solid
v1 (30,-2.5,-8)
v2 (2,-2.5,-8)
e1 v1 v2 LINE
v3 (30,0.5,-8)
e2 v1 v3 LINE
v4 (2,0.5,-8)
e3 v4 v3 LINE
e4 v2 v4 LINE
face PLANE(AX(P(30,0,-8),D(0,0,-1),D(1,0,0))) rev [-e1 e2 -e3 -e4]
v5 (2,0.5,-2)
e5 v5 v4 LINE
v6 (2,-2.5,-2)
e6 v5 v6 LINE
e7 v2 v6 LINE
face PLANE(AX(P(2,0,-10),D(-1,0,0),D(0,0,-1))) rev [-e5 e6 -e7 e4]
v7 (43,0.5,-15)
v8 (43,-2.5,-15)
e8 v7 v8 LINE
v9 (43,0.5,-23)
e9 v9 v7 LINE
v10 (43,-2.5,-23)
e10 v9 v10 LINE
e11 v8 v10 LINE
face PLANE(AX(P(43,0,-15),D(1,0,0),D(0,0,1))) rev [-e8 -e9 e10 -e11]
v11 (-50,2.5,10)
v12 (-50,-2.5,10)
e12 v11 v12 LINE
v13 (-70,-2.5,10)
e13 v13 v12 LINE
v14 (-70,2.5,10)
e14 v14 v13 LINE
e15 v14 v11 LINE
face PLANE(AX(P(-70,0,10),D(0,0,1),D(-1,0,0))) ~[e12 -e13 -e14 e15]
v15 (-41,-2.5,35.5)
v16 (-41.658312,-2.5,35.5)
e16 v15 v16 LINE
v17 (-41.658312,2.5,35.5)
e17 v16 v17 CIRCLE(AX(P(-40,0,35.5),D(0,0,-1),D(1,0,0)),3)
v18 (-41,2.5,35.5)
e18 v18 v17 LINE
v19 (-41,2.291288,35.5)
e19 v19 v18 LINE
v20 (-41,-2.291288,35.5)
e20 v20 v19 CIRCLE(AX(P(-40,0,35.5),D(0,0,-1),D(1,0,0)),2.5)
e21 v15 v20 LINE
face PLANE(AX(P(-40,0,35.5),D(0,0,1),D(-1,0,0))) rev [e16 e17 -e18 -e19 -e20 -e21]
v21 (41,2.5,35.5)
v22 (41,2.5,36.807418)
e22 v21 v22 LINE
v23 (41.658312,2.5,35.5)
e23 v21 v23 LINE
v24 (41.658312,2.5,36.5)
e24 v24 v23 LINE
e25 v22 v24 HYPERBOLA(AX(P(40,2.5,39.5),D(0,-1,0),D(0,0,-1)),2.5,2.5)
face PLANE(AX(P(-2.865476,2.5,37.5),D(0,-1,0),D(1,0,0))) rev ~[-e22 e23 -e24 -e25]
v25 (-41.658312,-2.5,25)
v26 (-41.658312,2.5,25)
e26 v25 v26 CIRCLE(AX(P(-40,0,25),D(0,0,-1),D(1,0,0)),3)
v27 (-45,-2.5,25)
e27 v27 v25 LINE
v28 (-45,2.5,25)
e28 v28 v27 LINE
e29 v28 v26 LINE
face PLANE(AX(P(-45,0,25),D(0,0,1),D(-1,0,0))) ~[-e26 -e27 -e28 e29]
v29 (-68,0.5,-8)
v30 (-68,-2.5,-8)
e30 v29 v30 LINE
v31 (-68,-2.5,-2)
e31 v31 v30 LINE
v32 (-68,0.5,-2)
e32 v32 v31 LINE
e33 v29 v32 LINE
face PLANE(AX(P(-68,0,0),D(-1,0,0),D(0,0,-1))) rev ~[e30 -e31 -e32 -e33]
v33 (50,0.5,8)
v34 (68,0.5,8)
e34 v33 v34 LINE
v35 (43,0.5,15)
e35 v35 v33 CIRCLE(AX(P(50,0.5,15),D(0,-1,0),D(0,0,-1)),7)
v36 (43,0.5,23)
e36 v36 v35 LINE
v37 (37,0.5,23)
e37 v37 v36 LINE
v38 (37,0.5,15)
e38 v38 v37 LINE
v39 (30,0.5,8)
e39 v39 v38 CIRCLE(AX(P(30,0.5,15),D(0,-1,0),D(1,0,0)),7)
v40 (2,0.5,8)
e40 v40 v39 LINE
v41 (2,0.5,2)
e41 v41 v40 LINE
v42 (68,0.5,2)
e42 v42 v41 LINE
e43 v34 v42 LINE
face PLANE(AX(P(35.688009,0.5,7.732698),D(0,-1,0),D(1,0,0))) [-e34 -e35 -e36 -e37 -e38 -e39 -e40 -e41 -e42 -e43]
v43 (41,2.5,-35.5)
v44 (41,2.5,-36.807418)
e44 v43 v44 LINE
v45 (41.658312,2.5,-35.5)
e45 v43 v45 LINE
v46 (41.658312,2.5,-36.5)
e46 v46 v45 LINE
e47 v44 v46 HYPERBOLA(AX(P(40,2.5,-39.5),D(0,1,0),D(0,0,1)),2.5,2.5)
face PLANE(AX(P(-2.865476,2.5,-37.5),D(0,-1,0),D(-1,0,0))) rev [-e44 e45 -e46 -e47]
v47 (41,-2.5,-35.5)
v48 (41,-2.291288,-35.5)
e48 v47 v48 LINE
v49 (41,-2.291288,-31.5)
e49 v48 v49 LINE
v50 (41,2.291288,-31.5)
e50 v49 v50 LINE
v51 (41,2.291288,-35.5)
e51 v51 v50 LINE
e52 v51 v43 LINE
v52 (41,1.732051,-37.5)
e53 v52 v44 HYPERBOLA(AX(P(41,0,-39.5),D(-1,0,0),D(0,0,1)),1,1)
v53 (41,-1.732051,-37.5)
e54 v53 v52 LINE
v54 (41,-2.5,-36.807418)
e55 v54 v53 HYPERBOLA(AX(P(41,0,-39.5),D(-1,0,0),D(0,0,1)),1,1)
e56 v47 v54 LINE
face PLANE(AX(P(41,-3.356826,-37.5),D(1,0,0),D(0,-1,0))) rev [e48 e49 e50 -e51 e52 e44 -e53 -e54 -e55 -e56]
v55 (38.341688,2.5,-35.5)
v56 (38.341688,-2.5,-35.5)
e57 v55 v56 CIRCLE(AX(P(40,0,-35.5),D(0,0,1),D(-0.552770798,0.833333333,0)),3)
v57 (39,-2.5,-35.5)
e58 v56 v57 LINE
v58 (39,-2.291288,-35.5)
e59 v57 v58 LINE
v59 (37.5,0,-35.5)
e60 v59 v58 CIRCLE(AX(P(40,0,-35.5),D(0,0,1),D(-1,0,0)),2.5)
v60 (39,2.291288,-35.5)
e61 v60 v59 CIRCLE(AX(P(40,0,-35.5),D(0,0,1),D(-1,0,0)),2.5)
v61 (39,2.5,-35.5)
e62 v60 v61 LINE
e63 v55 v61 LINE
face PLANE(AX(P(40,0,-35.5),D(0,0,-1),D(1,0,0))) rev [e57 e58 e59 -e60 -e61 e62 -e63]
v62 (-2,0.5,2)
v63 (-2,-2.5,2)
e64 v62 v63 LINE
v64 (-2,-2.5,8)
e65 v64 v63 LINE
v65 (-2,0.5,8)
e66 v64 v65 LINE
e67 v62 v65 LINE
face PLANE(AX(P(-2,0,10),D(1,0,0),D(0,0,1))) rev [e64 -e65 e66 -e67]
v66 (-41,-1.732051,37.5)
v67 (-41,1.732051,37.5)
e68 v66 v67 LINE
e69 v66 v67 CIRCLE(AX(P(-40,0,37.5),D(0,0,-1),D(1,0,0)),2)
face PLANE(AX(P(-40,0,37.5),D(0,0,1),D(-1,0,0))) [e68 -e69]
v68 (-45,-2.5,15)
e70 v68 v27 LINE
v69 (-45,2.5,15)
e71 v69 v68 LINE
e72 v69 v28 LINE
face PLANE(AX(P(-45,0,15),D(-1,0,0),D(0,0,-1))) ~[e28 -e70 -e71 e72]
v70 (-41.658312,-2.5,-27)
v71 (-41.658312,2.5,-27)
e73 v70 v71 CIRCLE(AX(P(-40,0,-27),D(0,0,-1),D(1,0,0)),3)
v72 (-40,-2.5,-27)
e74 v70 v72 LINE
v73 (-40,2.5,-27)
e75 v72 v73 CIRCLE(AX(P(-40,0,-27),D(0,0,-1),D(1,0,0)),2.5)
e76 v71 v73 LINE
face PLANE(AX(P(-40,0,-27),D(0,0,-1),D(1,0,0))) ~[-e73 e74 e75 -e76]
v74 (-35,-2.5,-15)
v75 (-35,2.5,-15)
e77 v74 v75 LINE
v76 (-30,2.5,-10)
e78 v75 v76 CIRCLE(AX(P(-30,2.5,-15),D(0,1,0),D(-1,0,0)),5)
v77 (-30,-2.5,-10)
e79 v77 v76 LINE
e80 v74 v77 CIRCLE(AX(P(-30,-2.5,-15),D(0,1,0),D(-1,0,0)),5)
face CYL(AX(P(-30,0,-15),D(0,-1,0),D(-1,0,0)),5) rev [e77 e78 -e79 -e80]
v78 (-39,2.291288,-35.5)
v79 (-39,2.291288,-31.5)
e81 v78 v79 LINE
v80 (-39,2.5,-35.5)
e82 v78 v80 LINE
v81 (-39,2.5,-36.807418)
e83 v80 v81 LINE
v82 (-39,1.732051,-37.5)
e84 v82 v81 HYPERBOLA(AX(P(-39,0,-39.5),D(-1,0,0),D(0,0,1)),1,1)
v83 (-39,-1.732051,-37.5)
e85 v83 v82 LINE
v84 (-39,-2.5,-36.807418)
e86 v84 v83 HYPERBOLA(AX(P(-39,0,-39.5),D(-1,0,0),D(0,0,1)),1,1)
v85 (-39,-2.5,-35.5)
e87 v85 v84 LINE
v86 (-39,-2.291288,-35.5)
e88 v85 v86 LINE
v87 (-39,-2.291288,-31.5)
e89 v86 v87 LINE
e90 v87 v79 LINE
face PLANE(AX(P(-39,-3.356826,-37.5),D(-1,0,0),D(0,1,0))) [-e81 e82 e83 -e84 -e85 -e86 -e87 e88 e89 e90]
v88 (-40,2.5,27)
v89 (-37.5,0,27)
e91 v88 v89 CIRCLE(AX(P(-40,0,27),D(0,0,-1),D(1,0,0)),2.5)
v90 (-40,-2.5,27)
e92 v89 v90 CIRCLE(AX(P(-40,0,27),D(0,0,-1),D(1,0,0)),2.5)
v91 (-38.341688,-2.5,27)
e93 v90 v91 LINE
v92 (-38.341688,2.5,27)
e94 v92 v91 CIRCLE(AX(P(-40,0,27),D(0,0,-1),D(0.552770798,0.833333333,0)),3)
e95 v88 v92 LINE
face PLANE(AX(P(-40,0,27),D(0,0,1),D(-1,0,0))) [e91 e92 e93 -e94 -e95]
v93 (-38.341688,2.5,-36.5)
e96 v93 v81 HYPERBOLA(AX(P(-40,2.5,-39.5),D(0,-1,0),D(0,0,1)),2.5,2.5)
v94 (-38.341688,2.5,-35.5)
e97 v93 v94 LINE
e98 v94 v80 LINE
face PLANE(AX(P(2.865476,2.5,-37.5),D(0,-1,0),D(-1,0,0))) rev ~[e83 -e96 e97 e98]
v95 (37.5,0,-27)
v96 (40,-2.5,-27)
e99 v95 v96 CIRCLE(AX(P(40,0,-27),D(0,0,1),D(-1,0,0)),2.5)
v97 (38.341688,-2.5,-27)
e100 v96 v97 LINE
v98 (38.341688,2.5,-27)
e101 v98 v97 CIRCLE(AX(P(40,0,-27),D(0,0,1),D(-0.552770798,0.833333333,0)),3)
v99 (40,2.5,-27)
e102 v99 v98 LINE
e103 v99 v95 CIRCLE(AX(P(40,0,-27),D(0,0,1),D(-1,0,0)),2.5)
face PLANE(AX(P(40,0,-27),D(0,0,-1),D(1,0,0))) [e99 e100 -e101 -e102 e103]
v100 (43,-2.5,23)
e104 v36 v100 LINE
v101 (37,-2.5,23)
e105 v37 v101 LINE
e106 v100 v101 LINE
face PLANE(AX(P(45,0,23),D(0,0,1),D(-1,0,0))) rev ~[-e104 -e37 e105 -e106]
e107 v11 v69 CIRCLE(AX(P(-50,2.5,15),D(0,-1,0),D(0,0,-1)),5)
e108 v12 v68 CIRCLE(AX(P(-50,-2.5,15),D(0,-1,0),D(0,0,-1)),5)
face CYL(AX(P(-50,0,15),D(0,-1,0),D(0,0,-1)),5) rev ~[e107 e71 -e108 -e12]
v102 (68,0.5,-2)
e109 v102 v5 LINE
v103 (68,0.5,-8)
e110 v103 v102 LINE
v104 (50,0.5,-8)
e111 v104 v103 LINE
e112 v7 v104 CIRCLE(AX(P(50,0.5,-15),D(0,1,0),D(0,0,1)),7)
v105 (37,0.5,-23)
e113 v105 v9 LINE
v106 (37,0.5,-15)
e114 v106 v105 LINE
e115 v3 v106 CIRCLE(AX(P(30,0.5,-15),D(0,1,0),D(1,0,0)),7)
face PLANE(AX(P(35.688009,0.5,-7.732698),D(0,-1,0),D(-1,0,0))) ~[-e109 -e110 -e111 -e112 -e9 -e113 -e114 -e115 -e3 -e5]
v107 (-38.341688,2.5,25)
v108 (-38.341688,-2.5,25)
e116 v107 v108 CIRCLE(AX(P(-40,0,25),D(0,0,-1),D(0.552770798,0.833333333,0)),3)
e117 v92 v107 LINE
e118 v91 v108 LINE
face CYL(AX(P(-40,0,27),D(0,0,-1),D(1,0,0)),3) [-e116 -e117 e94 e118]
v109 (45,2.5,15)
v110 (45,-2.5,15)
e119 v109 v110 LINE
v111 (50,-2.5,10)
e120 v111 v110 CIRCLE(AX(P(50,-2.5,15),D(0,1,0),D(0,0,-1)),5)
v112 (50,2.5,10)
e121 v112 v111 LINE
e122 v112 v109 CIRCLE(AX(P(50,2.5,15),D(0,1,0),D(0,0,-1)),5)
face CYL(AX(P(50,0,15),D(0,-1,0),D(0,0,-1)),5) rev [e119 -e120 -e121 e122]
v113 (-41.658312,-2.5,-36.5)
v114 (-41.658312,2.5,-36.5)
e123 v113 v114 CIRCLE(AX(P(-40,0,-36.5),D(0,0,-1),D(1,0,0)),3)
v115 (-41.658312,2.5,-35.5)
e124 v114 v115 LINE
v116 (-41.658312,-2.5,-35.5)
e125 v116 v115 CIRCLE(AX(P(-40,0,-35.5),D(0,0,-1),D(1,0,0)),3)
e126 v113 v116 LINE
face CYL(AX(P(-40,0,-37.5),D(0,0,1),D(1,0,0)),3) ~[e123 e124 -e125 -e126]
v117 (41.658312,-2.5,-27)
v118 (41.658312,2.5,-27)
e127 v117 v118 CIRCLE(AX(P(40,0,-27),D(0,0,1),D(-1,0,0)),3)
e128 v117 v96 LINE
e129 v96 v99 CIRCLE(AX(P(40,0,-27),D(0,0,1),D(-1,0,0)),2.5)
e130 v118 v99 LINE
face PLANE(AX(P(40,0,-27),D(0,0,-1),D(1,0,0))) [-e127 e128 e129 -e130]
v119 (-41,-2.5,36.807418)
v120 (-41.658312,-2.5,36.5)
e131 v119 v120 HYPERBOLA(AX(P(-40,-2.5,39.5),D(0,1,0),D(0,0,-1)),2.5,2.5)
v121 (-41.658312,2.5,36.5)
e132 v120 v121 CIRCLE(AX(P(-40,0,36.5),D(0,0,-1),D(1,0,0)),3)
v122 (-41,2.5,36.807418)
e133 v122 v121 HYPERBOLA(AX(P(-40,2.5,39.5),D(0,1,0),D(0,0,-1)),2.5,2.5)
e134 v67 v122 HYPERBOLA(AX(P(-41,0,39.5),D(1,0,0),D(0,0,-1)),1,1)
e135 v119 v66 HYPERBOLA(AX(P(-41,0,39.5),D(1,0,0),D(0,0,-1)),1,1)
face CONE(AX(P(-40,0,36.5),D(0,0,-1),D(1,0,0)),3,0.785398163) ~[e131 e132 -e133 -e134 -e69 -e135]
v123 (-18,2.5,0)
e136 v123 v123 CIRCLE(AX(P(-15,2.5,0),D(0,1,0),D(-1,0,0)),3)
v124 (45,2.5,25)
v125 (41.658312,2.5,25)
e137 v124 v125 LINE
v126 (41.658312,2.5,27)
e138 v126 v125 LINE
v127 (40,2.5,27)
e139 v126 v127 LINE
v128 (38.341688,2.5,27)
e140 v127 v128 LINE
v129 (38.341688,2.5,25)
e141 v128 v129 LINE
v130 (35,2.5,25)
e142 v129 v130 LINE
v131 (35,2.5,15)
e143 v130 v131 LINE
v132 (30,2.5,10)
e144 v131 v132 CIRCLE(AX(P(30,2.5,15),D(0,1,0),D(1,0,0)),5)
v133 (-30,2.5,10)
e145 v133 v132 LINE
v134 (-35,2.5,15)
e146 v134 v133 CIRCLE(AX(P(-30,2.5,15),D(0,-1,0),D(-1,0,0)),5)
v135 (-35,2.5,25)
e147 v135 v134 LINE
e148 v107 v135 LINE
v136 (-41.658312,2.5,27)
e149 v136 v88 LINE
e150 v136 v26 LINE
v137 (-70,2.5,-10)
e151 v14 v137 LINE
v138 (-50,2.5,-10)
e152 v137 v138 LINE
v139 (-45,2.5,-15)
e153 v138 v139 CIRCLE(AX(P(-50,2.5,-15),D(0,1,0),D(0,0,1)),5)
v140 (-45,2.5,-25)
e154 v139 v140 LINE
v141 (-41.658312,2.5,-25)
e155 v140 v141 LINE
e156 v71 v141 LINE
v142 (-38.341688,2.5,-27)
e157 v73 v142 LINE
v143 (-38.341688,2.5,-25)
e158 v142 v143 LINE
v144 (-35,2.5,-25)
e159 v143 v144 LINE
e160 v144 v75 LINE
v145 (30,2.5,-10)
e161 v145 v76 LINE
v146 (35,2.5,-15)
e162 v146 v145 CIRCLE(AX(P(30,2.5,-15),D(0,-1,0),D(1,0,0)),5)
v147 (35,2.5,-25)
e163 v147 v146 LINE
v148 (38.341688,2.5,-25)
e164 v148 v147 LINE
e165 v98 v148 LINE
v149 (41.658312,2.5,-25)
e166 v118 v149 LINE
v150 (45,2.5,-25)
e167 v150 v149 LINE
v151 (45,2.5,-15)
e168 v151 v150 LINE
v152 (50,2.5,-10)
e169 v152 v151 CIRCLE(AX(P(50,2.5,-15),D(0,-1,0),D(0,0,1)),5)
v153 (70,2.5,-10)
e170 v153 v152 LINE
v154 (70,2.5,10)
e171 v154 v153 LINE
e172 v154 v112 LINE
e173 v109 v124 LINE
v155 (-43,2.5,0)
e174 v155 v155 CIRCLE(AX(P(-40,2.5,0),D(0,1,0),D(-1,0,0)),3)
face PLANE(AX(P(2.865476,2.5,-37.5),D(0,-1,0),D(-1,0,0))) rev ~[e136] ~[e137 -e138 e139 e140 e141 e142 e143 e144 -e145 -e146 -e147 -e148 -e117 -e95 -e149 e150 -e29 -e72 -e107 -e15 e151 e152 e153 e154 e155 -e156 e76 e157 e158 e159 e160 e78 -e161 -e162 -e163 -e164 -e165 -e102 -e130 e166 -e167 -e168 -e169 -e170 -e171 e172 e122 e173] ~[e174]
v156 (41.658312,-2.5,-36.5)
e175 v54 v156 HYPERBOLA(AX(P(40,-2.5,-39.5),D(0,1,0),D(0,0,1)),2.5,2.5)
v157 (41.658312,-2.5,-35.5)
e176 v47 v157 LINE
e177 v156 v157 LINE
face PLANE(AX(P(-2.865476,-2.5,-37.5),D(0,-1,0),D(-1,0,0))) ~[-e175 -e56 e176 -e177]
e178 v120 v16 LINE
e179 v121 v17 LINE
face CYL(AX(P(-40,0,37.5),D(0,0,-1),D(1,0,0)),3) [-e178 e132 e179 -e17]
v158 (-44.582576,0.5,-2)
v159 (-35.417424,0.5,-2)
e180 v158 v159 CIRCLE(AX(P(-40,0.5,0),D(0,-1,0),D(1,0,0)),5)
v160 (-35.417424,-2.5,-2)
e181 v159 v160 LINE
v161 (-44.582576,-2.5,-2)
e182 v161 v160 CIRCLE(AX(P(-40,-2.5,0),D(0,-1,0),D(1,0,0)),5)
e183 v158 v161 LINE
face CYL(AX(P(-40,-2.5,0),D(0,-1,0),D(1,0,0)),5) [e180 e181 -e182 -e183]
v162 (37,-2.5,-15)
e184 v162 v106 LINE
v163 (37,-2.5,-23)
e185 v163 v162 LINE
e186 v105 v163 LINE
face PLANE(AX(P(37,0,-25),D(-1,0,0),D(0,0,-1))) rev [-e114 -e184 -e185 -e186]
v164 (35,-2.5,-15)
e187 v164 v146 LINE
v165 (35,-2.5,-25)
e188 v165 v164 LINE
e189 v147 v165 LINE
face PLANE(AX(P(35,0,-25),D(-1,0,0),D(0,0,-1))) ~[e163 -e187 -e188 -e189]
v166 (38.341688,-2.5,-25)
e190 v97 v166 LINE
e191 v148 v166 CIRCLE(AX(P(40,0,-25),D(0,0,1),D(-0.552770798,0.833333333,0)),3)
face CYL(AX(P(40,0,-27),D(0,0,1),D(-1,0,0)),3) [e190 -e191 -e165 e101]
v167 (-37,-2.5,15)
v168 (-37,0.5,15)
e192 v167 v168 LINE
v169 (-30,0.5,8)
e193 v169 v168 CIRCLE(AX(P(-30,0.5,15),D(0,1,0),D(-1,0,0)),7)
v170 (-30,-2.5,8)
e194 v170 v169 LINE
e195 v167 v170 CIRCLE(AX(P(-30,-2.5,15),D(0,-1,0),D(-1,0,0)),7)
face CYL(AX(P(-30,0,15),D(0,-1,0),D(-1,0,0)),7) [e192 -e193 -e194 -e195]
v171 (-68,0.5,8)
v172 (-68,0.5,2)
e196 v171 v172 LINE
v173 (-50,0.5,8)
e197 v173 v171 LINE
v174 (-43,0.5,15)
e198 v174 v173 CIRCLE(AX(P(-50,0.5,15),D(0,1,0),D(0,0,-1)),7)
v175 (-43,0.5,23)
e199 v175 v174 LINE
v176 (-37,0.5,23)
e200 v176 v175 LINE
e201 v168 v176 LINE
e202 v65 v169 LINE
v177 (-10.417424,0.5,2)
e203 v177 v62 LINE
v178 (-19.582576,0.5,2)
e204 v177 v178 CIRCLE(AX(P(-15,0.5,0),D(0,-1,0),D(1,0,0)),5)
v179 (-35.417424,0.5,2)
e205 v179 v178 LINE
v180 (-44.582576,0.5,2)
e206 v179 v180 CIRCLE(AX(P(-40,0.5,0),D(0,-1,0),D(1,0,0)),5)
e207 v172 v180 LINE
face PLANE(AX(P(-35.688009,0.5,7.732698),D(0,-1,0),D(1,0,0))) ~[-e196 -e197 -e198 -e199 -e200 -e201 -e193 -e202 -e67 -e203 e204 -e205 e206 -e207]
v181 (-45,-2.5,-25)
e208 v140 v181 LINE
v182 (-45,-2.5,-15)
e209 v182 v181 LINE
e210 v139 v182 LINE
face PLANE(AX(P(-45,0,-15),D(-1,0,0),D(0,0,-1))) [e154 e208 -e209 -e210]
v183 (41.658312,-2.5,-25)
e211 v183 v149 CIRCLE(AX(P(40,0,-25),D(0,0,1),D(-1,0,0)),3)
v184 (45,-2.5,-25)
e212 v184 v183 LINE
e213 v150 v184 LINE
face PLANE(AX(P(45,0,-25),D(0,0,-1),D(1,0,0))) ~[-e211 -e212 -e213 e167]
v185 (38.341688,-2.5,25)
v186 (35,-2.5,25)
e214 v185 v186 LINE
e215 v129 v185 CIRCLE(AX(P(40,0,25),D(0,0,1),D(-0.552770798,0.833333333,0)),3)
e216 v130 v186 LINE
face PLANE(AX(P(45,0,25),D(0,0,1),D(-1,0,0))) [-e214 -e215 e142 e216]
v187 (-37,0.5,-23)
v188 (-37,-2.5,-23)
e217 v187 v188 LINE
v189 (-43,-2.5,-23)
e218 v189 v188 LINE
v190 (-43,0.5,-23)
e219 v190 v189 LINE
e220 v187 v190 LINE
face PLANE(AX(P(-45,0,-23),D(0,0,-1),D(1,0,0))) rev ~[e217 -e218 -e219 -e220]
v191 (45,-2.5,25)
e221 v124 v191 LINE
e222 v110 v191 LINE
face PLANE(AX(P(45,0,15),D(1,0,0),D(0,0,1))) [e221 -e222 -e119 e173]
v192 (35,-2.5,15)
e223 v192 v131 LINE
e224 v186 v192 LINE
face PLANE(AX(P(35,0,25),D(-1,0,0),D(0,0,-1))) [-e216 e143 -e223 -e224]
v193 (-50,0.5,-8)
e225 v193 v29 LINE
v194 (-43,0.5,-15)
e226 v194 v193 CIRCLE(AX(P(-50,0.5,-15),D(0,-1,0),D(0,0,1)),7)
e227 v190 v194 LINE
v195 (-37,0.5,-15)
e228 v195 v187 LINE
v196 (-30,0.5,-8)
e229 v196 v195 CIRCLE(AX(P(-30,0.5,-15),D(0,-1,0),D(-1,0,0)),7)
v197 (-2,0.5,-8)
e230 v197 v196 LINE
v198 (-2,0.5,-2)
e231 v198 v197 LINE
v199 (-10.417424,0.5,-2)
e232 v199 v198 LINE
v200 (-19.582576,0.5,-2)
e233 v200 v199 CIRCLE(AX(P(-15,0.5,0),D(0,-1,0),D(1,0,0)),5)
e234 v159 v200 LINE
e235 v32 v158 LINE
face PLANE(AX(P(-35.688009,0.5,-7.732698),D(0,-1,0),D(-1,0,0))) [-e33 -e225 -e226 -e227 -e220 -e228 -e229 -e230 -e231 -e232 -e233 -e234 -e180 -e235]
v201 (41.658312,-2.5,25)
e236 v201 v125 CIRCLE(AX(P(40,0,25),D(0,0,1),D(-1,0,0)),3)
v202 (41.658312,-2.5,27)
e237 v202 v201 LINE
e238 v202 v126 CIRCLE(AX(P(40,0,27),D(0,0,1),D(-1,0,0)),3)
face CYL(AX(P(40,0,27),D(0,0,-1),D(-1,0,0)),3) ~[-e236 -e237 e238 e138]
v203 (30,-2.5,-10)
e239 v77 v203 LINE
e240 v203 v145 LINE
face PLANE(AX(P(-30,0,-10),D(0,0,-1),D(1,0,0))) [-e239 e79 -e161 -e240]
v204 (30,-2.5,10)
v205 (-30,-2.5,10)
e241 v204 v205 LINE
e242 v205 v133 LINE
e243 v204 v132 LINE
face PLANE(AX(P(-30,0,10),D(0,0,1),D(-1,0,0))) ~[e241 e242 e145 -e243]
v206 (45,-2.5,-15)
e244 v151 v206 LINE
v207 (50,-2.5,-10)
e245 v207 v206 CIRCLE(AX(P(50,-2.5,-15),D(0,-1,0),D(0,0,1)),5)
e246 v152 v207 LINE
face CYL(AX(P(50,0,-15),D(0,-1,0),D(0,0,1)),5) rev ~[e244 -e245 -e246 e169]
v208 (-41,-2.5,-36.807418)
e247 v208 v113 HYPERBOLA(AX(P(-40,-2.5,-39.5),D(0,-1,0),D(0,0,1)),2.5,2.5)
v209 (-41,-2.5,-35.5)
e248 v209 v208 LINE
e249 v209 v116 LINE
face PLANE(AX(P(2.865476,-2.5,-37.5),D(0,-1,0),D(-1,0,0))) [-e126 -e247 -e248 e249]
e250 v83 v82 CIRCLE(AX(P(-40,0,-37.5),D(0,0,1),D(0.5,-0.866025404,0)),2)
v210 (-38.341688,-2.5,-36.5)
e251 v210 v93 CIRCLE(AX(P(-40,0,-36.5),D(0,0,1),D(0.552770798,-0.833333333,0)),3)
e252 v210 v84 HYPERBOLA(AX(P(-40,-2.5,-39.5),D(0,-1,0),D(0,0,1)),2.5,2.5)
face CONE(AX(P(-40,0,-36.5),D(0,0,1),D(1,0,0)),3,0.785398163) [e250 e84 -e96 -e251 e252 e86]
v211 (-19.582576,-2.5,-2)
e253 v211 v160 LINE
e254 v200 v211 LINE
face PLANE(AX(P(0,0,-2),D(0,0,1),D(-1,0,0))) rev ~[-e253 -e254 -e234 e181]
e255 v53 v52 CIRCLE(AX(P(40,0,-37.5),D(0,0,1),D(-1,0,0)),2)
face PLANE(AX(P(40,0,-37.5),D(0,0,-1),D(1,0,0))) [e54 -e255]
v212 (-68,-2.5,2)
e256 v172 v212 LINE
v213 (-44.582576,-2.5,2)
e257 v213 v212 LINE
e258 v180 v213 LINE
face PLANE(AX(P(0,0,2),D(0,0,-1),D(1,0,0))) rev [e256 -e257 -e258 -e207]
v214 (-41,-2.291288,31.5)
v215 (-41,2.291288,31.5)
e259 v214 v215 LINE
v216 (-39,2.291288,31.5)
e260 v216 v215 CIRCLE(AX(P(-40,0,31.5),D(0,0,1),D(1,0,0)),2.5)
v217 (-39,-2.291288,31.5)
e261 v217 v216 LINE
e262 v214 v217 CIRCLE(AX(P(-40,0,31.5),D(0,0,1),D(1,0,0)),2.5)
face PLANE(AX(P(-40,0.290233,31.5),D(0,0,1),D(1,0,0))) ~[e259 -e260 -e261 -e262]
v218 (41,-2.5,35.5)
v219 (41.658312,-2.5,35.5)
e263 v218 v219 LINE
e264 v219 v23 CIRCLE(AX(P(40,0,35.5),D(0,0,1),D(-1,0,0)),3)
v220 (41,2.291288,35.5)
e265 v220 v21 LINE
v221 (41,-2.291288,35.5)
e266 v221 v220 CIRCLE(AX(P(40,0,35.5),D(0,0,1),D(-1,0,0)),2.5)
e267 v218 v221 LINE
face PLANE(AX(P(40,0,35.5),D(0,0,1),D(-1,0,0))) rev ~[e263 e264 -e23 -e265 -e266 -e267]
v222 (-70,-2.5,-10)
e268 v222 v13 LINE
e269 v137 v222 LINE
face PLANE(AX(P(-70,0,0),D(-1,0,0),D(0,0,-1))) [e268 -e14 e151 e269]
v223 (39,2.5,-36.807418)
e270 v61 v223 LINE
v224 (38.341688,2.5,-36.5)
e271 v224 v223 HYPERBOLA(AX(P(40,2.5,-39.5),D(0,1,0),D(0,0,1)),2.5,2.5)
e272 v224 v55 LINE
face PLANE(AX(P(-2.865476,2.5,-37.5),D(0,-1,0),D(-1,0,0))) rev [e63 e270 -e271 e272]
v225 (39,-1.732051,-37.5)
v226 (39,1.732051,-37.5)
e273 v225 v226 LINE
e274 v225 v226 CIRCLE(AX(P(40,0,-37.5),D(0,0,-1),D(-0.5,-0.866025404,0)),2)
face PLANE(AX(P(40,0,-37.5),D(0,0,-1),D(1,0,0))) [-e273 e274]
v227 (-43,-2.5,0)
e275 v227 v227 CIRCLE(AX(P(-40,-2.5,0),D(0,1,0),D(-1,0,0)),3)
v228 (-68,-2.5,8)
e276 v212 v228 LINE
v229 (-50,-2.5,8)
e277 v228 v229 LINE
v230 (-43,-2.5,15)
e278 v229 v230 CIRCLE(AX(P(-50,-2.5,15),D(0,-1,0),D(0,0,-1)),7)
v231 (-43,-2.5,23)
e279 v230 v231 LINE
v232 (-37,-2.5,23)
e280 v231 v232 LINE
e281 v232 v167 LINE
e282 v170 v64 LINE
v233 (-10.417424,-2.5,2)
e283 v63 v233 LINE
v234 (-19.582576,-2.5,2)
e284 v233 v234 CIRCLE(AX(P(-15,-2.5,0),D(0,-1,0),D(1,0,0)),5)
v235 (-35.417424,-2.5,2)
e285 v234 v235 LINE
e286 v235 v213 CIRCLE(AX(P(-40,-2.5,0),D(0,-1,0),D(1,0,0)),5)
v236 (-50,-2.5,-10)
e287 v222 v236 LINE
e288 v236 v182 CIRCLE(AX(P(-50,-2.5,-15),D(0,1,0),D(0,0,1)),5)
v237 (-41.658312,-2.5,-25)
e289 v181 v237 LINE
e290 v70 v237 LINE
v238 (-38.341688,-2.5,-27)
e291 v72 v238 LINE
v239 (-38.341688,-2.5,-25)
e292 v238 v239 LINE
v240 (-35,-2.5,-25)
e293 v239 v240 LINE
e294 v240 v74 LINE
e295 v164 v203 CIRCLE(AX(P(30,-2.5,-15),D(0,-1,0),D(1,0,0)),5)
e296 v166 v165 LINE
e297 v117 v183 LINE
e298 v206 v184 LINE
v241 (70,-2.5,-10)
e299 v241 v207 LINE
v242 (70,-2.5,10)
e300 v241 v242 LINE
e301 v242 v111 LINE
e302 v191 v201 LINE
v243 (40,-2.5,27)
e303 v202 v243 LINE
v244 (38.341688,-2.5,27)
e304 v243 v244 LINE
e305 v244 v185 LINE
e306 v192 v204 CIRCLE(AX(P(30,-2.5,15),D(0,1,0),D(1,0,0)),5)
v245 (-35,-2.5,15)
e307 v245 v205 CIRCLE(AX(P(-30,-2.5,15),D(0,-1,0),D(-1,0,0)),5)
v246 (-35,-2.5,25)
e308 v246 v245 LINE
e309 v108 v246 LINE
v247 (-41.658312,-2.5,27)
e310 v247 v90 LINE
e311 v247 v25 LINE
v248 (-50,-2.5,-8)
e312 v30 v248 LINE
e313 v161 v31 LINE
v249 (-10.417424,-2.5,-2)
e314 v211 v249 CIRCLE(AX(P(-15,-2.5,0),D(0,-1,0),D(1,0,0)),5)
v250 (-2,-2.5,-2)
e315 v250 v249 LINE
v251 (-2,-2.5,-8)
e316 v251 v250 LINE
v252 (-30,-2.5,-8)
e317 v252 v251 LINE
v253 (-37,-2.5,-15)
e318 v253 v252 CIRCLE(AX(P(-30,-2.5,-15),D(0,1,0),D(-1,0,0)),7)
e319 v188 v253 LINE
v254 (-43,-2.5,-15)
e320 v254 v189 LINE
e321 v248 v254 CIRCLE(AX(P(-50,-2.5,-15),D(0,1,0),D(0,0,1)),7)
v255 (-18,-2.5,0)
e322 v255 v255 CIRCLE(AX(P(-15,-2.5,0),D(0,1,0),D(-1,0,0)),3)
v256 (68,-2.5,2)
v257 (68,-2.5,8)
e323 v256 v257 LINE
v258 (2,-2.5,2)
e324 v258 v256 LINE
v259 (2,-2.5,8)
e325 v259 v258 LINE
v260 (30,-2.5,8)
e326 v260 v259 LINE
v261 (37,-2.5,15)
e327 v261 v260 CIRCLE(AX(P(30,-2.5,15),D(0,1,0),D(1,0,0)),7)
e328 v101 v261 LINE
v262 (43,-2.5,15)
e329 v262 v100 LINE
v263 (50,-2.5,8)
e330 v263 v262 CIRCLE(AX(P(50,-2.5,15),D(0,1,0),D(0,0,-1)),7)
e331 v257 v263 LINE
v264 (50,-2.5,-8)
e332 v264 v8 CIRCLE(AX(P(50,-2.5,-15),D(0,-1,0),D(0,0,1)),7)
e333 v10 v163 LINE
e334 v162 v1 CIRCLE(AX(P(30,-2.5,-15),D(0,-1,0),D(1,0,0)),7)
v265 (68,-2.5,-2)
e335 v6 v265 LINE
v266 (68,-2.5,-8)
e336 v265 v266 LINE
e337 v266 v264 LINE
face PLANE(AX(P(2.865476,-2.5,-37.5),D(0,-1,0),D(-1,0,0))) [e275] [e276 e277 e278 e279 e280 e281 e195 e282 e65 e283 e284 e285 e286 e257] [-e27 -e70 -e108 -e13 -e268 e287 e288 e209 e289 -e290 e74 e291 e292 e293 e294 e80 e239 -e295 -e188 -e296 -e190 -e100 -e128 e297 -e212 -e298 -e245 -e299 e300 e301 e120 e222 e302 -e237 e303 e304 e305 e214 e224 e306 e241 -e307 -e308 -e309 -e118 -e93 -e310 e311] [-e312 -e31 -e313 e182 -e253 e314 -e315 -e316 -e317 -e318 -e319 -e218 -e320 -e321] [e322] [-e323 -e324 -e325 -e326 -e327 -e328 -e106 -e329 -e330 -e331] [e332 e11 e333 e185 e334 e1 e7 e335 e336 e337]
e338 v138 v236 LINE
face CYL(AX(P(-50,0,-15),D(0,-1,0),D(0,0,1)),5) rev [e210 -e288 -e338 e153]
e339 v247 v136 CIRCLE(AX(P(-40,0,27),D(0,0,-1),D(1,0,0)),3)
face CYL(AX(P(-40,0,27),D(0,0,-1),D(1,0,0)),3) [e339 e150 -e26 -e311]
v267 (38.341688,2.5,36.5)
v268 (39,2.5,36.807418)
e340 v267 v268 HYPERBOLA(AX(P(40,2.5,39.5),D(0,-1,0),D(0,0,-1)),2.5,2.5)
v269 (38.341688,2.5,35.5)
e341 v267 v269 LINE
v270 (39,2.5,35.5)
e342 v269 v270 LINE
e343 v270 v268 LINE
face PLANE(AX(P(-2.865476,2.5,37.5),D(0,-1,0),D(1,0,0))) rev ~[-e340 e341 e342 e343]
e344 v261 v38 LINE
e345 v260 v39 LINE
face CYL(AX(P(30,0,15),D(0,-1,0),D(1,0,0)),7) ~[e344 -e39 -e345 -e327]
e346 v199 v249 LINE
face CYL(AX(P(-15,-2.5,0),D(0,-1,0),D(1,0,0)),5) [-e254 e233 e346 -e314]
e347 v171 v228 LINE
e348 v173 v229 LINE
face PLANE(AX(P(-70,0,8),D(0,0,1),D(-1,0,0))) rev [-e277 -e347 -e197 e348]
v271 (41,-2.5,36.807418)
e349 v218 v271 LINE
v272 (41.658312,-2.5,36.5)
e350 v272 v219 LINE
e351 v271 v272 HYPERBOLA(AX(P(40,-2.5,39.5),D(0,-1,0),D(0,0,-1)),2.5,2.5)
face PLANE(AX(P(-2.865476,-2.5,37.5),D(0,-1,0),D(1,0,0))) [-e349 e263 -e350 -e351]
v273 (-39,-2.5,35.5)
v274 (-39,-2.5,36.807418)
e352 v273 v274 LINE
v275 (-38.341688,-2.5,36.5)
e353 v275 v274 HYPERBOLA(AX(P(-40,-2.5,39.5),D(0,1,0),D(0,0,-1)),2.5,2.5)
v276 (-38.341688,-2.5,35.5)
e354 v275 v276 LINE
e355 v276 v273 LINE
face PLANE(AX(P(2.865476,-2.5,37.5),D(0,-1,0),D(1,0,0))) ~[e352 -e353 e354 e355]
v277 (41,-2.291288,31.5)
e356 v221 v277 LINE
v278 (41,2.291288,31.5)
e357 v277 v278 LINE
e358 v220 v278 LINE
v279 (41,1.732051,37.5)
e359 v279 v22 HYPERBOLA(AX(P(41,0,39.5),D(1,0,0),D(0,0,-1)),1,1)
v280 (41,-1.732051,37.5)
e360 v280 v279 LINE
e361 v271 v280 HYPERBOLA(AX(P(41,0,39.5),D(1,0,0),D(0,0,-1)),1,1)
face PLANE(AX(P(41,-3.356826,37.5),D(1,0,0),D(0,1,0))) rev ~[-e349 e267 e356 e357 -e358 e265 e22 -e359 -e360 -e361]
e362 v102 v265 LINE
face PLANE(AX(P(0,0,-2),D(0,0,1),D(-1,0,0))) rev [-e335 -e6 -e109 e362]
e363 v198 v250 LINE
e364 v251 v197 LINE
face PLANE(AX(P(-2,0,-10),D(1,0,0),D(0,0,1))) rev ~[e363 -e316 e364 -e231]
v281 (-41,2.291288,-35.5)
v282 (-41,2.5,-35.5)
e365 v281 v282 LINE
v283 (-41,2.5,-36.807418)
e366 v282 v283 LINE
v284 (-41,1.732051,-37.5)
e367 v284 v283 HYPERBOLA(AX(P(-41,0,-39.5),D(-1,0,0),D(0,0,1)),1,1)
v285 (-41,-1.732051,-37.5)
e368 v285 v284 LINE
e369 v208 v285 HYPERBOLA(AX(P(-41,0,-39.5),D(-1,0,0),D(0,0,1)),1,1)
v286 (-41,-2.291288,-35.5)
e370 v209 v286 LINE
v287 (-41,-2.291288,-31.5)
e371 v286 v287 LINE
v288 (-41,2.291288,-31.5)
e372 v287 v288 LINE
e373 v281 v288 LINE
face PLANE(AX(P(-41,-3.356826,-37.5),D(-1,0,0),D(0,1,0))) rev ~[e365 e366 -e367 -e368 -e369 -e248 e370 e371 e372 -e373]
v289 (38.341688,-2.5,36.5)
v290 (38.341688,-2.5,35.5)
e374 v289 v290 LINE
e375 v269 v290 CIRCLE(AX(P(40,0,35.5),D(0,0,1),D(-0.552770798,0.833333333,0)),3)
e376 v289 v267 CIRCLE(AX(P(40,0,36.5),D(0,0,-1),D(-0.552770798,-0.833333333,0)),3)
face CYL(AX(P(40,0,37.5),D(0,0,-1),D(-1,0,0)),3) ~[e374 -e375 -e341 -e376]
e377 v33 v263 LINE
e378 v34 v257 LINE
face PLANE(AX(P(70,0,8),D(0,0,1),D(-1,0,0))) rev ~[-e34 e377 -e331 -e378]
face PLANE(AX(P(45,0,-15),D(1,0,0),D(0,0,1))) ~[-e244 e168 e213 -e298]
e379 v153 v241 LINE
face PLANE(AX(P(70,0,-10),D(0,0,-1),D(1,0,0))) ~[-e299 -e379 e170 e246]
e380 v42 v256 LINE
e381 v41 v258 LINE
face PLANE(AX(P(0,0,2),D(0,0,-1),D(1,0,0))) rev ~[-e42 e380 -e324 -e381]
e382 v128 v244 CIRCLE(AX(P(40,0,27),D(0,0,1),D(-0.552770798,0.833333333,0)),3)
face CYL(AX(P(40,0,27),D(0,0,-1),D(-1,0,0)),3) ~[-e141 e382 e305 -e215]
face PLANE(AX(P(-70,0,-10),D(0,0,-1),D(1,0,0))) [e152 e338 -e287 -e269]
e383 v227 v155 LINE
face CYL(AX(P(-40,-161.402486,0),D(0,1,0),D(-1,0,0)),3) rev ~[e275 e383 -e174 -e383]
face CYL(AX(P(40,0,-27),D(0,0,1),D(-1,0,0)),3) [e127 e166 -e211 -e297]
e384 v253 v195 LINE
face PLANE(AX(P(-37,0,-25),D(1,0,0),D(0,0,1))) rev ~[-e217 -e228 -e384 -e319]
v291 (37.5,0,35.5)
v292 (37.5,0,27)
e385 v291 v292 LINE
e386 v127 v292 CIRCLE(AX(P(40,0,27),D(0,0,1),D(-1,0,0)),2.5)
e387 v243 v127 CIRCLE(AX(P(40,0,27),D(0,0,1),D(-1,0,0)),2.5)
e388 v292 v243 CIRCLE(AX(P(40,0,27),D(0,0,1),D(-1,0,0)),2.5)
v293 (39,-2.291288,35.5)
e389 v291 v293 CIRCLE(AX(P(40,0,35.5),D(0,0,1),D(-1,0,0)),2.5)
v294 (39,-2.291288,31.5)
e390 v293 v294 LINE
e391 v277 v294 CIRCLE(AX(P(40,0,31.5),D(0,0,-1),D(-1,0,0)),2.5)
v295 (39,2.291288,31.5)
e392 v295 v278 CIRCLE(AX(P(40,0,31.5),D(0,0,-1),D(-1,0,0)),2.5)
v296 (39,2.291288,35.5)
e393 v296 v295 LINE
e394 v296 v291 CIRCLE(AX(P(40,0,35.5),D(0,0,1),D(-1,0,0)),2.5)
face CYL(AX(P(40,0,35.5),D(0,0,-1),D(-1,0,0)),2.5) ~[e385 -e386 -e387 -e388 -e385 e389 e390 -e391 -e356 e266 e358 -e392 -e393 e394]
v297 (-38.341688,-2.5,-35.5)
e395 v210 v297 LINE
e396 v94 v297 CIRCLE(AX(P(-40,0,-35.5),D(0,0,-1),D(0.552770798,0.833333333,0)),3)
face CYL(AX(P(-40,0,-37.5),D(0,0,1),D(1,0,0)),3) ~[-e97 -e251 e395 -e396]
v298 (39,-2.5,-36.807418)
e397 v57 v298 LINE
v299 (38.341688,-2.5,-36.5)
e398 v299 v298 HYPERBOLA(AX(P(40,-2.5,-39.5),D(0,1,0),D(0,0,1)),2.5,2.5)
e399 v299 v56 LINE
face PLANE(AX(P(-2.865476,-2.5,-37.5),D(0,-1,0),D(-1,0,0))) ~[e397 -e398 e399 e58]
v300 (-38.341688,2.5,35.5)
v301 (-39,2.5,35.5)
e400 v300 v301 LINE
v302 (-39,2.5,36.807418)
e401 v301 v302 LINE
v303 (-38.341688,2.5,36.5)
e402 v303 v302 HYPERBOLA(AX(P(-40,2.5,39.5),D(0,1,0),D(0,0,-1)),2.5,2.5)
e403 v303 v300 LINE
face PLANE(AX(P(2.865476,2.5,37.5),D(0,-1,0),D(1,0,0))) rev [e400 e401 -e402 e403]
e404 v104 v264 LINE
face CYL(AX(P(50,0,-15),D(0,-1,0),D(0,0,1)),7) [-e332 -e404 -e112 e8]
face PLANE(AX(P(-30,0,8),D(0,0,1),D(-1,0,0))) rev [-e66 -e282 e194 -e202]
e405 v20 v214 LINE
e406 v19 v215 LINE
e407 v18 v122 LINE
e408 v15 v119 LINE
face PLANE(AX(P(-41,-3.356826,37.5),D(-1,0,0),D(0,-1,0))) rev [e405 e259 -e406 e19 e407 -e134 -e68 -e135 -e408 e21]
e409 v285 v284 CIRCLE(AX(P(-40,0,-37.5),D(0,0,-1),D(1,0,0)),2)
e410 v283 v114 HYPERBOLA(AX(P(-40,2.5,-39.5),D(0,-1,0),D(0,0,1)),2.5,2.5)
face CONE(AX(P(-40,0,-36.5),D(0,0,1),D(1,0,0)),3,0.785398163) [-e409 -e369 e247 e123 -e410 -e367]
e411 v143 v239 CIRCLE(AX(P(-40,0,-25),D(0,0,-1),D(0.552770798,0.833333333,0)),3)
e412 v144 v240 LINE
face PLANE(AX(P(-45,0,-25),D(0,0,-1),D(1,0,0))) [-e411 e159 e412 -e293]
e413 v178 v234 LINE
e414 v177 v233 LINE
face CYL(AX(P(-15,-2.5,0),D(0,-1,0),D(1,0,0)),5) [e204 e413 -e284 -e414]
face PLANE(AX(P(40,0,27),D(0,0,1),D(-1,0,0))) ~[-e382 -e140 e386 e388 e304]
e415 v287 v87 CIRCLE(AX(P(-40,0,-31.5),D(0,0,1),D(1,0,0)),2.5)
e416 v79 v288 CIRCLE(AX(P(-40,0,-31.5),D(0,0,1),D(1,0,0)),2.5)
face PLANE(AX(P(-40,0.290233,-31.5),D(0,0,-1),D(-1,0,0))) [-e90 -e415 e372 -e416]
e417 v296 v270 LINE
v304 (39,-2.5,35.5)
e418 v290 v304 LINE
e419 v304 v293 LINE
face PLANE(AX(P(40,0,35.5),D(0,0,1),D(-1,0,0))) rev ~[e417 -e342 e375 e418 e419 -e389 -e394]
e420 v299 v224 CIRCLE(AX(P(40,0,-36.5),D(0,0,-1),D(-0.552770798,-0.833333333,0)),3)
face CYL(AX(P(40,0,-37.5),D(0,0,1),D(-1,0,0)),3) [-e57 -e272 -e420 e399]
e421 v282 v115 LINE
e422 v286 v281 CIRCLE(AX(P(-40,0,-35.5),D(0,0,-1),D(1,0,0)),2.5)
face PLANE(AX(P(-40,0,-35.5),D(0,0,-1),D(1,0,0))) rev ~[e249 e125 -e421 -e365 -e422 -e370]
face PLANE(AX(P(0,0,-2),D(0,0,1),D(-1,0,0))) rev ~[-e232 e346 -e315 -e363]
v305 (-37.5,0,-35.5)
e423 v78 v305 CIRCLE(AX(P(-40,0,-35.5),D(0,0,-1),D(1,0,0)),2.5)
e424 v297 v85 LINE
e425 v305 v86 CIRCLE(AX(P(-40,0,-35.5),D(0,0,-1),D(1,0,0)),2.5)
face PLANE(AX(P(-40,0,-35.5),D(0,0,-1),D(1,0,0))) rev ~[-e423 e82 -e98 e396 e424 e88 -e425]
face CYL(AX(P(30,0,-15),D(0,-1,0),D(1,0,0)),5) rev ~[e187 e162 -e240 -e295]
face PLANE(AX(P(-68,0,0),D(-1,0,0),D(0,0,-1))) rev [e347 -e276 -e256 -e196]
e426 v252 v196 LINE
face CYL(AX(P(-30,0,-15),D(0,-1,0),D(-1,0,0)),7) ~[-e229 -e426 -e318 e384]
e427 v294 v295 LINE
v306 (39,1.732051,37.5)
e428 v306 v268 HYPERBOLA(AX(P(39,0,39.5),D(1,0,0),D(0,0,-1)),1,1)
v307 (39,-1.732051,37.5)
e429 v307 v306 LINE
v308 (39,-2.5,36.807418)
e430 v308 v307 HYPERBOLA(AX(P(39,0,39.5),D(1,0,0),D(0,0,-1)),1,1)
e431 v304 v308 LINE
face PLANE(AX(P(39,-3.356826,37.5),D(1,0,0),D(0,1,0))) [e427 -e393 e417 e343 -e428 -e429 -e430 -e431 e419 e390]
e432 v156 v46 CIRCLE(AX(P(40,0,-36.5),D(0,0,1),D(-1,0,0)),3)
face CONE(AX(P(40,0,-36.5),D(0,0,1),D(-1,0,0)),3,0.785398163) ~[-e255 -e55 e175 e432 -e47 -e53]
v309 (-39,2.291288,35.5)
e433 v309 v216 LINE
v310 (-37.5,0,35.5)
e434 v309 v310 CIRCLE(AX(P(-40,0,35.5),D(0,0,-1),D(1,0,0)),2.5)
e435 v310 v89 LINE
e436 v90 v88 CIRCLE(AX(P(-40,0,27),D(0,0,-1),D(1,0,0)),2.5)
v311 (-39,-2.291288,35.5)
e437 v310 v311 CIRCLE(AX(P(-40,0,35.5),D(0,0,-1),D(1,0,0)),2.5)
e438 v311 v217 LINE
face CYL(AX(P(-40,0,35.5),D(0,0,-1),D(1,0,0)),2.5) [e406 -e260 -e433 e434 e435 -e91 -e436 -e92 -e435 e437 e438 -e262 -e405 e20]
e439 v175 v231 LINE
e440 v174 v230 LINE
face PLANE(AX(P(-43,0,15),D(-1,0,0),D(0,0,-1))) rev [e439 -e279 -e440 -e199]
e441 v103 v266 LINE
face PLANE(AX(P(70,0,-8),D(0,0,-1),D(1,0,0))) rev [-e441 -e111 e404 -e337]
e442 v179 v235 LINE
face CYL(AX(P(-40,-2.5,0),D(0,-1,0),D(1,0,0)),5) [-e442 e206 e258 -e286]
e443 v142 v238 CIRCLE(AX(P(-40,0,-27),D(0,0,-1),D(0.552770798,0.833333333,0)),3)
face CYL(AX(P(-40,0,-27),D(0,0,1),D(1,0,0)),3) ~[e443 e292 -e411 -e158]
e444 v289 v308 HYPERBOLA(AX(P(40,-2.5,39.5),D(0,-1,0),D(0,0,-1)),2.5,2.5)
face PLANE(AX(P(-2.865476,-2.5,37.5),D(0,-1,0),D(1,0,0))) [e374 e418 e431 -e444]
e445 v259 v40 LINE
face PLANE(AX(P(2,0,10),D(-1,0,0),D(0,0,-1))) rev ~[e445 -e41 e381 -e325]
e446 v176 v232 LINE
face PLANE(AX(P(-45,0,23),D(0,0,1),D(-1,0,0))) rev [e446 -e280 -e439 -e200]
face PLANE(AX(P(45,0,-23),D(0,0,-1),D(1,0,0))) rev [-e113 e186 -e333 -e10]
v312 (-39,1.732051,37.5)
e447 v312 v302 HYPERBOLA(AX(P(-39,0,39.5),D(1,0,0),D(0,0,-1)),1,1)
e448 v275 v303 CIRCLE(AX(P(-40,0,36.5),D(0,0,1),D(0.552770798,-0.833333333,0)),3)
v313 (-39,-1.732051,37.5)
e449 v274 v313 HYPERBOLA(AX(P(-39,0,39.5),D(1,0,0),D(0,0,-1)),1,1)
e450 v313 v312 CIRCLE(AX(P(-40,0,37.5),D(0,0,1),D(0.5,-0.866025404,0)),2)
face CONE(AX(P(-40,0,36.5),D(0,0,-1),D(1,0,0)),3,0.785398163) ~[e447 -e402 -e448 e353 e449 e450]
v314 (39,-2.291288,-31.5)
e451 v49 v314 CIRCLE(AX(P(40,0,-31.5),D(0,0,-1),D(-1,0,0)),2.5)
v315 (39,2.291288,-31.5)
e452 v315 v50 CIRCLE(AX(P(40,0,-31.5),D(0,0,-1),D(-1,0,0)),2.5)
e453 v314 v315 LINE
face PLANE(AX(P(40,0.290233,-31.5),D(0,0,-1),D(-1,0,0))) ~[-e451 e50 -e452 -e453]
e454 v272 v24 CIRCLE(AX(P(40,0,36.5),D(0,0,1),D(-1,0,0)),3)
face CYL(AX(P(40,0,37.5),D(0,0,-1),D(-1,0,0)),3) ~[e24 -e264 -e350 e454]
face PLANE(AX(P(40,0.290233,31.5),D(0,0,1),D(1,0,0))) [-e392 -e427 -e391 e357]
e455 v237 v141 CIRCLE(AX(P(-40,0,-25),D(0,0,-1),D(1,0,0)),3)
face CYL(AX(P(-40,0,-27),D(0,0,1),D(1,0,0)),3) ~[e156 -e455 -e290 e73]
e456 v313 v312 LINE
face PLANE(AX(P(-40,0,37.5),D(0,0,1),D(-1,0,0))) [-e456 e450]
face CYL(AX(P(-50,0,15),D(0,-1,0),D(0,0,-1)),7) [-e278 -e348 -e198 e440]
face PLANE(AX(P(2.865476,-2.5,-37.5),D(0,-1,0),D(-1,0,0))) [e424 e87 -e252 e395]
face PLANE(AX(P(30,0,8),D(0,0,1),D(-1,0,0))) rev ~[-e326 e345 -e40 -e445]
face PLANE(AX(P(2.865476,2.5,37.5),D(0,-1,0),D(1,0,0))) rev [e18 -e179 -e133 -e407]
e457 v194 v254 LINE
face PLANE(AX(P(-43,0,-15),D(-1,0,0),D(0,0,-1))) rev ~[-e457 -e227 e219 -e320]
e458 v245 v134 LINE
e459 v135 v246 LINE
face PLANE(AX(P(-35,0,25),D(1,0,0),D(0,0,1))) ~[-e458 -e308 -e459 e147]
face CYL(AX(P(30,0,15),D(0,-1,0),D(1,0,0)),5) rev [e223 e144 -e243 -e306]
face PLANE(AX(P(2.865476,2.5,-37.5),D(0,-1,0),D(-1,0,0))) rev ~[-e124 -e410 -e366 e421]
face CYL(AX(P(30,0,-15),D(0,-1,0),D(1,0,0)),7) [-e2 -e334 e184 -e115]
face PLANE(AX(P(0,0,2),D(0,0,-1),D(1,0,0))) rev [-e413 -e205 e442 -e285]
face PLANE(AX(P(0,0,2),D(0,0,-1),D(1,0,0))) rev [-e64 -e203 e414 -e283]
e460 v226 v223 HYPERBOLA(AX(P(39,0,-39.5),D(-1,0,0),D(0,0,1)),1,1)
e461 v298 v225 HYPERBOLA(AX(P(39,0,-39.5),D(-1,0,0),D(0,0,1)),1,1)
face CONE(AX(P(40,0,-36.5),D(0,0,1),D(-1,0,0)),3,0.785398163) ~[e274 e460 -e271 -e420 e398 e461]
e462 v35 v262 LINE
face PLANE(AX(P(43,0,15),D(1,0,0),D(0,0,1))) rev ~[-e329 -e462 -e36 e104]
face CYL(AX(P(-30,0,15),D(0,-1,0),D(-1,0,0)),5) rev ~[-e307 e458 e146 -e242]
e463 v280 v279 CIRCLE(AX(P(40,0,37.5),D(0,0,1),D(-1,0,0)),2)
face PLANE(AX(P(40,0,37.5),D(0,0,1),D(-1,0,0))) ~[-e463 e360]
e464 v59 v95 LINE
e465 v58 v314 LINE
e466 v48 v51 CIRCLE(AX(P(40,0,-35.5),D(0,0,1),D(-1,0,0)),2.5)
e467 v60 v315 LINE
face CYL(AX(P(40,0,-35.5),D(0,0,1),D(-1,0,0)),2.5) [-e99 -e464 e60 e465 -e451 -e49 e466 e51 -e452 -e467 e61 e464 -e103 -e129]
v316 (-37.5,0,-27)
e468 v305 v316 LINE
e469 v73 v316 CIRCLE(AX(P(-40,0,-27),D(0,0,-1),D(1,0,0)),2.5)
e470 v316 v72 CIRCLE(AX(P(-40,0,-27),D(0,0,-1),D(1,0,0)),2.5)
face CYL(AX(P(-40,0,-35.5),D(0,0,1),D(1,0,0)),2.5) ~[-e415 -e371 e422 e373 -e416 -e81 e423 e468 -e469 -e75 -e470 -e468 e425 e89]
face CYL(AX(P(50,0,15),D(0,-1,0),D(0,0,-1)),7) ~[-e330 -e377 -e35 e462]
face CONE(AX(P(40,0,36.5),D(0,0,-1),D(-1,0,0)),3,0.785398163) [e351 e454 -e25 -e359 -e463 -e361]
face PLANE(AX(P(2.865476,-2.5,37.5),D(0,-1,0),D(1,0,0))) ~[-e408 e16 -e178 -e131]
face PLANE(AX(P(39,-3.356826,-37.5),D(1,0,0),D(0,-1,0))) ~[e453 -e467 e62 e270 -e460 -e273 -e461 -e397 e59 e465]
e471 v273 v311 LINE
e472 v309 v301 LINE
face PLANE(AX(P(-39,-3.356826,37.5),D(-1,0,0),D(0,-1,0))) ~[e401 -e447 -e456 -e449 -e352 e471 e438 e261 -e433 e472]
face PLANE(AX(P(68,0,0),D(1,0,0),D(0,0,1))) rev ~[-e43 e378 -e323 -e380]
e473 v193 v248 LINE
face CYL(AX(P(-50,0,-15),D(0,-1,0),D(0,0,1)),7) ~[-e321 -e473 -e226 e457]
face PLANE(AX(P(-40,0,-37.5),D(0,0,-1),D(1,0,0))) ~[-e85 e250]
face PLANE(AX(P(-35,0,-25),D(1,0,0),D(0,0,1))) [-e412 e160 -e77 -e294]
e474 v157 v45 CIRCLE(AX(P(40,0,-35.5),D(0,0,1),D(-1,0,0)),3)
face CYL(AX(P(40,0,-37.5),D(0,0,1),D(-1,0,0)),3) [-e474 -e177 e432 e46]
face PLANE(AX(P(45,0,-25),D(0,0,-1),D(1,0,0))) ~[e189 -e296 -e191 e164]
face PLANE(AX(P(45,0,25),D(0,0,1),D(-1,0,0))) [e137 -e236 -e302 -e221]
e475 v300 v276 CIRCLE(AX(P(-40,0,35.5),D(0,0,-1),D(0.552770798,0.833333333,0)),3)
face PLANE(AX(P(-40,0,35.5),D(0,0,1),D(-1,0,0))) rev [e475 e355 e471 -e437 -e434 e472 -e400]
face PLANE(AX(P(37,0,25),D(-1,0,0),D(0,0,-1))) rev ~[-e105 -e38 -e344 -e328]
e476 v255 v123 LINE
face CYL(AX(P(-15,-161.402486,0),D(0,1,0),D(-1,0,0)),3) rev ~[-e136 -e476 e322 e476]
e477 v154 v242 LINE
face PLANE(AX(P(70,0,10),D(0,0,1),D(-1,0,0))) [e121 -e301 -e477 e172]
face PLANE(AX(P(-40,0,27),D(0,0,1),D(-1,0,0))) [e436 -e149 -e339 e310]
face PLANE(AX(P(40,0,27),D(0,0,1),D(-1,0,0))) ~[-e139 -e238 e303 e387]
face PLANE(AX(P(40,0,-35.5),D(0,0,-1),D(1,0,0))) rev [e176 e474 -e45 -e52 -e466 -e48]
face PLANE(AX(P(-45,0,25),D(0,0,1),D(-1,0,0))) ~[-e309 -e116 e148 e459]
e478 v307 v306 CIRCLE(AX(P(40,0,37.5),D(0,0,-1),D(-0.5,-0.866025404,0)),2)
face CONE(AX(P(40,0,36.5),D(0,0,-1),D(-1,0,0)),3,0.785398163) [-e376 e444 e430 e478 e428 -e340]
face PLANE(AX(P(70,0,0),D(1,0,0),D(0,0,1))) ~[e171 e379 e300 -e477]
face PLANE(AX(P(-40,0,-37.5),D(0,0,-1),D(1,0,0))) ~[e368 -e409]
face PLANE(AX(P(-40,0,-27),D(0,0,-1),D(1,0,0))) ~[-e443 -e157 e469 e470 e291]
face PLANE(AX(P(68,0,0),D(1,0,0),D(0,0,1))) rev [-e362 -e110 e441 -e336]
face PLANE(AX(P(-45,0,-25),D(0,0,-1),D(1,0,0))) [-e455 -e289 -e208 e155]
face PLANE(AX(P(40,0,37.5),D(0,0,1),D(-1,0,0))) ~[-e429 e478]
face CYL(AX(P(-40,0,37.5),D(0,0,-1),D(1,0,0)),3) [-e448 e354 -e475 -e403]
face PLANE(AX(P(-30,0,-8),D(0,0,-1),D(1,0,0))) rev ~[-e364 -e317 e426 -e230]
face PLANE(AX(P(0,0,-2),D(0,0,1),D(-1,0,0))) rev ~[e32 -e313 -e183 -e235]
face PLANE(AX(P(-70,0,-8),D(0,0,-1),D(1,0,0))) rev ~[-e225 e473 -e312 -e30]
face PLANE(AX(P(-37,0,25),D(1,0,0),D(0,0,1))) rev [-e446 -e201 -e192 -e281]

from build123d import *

# Parameters (mm, degrees)
F1_DEPTH  = 2.5
F2_T      = -2
F5_SIZE   = 1
F6_W      = 75
F6_H      = 5
F7_DEPTH  = 37.501
F8_W      = 2
F8_H      = 7.2941179635
F9_DEPTH  = 6
F12_R     = 5
F13_DEPTH = 5
F15_D     = 6


with BuildPart() as f1:
    # F0 (on Front) → F1 (new body, symmetric)
    with BuildSketch(Plane.XZ):
        with BuildLine():
            Line((0, 10), (0, 0))
            Line((0, 0), (70, 0))
            Line((70, 0), (70, 10))
            Line((70, 10), (50, 10))
            ThreePointArc((50, 10), (46.4644660941, 11.4644660941), (45, 15))
            Line((45, 15), (45, 25))
            Line((45, 25), (35, 25))
            Line((35, 25), (35, 15))
            ThreePointArc((35, 15), (33.5355339059, 11.4644660941), (30, 10))
            Line((30, 10), (0, 10))
        make_face()
    extrude(amount=F1_DEPTH, both=True)

    # F2
    f2_openings = [f1.faces().sort_by_distance(p)[0] for p in [
        (35.933685, -2.5, 7.254637),
    ]]
    offset(amount=F2_T, openings=f2_openings)

    # F3 (on Front) → F4 (revolve)
    with BuildSketch(Plane.XZ):
        Polygon((37, 25), (40, 25), (40, 37.5), (37, 37.5), (37, 35.5), (37.5, 35.5), (37.5, 27), (37, 27), align=None)
    revolve(axis=Axis((40, 0, 31.25), (0, 0, 1)))

    # F5
    f5_edges = [f1.edges().sort_by_distance(p)[0] for p in [
        (43, 0, 37.5),
    ]]
    chamfer(f5_edges, length=F5_SIZE)

    # F6 (on face) → F7 (intersect, through all)
    with BuildSketch(Plane.XY.offset(37.5)):
        with Locations((34.6345236758, 0)):
            Rectangle(F6_W, F6_H)
    extrude(amount=-F7_DEPTH, mode=Mode.INTERSECT)

    # F8 (on face) → F9 (cut)
    with BuildSketch(Plane.XY.offset(37.5)):
        with Locations((40, 0.290233409)):
            Rectangle(F8_W, F8_H)
    extrude(amount=-F9_DEPTH, mode=Mode.SUBTRACT)

    # F10: F1 across plane


with BuildPart() as f1_1:
    add(f1.part)
    add(f1.part.mirror(Plane.XY))

    # F11: F1 across plane


with BuildPart() as f1_2:
    add(f1_1.part)
    add(f1_1.part.mirror(Plane.YZ))

    # F12 (on face) → F13 (join, through all)
    with BuildSketch(Plane.XZ.offset(2.5)):
        with Locations((-40, 0)):
            Circle(F12_R)
        with Locations((-15, 0)):
            Circle(F12_R)
    extrude(amount=-F13_DEPTH)

    # F15 (through all)
    with Locations(Plane.XZ.offset(2.5)):
        with Locations((-40, 0), (-15, 0)):
            Hole(F15_D / 2)


solid = f1_2.part
